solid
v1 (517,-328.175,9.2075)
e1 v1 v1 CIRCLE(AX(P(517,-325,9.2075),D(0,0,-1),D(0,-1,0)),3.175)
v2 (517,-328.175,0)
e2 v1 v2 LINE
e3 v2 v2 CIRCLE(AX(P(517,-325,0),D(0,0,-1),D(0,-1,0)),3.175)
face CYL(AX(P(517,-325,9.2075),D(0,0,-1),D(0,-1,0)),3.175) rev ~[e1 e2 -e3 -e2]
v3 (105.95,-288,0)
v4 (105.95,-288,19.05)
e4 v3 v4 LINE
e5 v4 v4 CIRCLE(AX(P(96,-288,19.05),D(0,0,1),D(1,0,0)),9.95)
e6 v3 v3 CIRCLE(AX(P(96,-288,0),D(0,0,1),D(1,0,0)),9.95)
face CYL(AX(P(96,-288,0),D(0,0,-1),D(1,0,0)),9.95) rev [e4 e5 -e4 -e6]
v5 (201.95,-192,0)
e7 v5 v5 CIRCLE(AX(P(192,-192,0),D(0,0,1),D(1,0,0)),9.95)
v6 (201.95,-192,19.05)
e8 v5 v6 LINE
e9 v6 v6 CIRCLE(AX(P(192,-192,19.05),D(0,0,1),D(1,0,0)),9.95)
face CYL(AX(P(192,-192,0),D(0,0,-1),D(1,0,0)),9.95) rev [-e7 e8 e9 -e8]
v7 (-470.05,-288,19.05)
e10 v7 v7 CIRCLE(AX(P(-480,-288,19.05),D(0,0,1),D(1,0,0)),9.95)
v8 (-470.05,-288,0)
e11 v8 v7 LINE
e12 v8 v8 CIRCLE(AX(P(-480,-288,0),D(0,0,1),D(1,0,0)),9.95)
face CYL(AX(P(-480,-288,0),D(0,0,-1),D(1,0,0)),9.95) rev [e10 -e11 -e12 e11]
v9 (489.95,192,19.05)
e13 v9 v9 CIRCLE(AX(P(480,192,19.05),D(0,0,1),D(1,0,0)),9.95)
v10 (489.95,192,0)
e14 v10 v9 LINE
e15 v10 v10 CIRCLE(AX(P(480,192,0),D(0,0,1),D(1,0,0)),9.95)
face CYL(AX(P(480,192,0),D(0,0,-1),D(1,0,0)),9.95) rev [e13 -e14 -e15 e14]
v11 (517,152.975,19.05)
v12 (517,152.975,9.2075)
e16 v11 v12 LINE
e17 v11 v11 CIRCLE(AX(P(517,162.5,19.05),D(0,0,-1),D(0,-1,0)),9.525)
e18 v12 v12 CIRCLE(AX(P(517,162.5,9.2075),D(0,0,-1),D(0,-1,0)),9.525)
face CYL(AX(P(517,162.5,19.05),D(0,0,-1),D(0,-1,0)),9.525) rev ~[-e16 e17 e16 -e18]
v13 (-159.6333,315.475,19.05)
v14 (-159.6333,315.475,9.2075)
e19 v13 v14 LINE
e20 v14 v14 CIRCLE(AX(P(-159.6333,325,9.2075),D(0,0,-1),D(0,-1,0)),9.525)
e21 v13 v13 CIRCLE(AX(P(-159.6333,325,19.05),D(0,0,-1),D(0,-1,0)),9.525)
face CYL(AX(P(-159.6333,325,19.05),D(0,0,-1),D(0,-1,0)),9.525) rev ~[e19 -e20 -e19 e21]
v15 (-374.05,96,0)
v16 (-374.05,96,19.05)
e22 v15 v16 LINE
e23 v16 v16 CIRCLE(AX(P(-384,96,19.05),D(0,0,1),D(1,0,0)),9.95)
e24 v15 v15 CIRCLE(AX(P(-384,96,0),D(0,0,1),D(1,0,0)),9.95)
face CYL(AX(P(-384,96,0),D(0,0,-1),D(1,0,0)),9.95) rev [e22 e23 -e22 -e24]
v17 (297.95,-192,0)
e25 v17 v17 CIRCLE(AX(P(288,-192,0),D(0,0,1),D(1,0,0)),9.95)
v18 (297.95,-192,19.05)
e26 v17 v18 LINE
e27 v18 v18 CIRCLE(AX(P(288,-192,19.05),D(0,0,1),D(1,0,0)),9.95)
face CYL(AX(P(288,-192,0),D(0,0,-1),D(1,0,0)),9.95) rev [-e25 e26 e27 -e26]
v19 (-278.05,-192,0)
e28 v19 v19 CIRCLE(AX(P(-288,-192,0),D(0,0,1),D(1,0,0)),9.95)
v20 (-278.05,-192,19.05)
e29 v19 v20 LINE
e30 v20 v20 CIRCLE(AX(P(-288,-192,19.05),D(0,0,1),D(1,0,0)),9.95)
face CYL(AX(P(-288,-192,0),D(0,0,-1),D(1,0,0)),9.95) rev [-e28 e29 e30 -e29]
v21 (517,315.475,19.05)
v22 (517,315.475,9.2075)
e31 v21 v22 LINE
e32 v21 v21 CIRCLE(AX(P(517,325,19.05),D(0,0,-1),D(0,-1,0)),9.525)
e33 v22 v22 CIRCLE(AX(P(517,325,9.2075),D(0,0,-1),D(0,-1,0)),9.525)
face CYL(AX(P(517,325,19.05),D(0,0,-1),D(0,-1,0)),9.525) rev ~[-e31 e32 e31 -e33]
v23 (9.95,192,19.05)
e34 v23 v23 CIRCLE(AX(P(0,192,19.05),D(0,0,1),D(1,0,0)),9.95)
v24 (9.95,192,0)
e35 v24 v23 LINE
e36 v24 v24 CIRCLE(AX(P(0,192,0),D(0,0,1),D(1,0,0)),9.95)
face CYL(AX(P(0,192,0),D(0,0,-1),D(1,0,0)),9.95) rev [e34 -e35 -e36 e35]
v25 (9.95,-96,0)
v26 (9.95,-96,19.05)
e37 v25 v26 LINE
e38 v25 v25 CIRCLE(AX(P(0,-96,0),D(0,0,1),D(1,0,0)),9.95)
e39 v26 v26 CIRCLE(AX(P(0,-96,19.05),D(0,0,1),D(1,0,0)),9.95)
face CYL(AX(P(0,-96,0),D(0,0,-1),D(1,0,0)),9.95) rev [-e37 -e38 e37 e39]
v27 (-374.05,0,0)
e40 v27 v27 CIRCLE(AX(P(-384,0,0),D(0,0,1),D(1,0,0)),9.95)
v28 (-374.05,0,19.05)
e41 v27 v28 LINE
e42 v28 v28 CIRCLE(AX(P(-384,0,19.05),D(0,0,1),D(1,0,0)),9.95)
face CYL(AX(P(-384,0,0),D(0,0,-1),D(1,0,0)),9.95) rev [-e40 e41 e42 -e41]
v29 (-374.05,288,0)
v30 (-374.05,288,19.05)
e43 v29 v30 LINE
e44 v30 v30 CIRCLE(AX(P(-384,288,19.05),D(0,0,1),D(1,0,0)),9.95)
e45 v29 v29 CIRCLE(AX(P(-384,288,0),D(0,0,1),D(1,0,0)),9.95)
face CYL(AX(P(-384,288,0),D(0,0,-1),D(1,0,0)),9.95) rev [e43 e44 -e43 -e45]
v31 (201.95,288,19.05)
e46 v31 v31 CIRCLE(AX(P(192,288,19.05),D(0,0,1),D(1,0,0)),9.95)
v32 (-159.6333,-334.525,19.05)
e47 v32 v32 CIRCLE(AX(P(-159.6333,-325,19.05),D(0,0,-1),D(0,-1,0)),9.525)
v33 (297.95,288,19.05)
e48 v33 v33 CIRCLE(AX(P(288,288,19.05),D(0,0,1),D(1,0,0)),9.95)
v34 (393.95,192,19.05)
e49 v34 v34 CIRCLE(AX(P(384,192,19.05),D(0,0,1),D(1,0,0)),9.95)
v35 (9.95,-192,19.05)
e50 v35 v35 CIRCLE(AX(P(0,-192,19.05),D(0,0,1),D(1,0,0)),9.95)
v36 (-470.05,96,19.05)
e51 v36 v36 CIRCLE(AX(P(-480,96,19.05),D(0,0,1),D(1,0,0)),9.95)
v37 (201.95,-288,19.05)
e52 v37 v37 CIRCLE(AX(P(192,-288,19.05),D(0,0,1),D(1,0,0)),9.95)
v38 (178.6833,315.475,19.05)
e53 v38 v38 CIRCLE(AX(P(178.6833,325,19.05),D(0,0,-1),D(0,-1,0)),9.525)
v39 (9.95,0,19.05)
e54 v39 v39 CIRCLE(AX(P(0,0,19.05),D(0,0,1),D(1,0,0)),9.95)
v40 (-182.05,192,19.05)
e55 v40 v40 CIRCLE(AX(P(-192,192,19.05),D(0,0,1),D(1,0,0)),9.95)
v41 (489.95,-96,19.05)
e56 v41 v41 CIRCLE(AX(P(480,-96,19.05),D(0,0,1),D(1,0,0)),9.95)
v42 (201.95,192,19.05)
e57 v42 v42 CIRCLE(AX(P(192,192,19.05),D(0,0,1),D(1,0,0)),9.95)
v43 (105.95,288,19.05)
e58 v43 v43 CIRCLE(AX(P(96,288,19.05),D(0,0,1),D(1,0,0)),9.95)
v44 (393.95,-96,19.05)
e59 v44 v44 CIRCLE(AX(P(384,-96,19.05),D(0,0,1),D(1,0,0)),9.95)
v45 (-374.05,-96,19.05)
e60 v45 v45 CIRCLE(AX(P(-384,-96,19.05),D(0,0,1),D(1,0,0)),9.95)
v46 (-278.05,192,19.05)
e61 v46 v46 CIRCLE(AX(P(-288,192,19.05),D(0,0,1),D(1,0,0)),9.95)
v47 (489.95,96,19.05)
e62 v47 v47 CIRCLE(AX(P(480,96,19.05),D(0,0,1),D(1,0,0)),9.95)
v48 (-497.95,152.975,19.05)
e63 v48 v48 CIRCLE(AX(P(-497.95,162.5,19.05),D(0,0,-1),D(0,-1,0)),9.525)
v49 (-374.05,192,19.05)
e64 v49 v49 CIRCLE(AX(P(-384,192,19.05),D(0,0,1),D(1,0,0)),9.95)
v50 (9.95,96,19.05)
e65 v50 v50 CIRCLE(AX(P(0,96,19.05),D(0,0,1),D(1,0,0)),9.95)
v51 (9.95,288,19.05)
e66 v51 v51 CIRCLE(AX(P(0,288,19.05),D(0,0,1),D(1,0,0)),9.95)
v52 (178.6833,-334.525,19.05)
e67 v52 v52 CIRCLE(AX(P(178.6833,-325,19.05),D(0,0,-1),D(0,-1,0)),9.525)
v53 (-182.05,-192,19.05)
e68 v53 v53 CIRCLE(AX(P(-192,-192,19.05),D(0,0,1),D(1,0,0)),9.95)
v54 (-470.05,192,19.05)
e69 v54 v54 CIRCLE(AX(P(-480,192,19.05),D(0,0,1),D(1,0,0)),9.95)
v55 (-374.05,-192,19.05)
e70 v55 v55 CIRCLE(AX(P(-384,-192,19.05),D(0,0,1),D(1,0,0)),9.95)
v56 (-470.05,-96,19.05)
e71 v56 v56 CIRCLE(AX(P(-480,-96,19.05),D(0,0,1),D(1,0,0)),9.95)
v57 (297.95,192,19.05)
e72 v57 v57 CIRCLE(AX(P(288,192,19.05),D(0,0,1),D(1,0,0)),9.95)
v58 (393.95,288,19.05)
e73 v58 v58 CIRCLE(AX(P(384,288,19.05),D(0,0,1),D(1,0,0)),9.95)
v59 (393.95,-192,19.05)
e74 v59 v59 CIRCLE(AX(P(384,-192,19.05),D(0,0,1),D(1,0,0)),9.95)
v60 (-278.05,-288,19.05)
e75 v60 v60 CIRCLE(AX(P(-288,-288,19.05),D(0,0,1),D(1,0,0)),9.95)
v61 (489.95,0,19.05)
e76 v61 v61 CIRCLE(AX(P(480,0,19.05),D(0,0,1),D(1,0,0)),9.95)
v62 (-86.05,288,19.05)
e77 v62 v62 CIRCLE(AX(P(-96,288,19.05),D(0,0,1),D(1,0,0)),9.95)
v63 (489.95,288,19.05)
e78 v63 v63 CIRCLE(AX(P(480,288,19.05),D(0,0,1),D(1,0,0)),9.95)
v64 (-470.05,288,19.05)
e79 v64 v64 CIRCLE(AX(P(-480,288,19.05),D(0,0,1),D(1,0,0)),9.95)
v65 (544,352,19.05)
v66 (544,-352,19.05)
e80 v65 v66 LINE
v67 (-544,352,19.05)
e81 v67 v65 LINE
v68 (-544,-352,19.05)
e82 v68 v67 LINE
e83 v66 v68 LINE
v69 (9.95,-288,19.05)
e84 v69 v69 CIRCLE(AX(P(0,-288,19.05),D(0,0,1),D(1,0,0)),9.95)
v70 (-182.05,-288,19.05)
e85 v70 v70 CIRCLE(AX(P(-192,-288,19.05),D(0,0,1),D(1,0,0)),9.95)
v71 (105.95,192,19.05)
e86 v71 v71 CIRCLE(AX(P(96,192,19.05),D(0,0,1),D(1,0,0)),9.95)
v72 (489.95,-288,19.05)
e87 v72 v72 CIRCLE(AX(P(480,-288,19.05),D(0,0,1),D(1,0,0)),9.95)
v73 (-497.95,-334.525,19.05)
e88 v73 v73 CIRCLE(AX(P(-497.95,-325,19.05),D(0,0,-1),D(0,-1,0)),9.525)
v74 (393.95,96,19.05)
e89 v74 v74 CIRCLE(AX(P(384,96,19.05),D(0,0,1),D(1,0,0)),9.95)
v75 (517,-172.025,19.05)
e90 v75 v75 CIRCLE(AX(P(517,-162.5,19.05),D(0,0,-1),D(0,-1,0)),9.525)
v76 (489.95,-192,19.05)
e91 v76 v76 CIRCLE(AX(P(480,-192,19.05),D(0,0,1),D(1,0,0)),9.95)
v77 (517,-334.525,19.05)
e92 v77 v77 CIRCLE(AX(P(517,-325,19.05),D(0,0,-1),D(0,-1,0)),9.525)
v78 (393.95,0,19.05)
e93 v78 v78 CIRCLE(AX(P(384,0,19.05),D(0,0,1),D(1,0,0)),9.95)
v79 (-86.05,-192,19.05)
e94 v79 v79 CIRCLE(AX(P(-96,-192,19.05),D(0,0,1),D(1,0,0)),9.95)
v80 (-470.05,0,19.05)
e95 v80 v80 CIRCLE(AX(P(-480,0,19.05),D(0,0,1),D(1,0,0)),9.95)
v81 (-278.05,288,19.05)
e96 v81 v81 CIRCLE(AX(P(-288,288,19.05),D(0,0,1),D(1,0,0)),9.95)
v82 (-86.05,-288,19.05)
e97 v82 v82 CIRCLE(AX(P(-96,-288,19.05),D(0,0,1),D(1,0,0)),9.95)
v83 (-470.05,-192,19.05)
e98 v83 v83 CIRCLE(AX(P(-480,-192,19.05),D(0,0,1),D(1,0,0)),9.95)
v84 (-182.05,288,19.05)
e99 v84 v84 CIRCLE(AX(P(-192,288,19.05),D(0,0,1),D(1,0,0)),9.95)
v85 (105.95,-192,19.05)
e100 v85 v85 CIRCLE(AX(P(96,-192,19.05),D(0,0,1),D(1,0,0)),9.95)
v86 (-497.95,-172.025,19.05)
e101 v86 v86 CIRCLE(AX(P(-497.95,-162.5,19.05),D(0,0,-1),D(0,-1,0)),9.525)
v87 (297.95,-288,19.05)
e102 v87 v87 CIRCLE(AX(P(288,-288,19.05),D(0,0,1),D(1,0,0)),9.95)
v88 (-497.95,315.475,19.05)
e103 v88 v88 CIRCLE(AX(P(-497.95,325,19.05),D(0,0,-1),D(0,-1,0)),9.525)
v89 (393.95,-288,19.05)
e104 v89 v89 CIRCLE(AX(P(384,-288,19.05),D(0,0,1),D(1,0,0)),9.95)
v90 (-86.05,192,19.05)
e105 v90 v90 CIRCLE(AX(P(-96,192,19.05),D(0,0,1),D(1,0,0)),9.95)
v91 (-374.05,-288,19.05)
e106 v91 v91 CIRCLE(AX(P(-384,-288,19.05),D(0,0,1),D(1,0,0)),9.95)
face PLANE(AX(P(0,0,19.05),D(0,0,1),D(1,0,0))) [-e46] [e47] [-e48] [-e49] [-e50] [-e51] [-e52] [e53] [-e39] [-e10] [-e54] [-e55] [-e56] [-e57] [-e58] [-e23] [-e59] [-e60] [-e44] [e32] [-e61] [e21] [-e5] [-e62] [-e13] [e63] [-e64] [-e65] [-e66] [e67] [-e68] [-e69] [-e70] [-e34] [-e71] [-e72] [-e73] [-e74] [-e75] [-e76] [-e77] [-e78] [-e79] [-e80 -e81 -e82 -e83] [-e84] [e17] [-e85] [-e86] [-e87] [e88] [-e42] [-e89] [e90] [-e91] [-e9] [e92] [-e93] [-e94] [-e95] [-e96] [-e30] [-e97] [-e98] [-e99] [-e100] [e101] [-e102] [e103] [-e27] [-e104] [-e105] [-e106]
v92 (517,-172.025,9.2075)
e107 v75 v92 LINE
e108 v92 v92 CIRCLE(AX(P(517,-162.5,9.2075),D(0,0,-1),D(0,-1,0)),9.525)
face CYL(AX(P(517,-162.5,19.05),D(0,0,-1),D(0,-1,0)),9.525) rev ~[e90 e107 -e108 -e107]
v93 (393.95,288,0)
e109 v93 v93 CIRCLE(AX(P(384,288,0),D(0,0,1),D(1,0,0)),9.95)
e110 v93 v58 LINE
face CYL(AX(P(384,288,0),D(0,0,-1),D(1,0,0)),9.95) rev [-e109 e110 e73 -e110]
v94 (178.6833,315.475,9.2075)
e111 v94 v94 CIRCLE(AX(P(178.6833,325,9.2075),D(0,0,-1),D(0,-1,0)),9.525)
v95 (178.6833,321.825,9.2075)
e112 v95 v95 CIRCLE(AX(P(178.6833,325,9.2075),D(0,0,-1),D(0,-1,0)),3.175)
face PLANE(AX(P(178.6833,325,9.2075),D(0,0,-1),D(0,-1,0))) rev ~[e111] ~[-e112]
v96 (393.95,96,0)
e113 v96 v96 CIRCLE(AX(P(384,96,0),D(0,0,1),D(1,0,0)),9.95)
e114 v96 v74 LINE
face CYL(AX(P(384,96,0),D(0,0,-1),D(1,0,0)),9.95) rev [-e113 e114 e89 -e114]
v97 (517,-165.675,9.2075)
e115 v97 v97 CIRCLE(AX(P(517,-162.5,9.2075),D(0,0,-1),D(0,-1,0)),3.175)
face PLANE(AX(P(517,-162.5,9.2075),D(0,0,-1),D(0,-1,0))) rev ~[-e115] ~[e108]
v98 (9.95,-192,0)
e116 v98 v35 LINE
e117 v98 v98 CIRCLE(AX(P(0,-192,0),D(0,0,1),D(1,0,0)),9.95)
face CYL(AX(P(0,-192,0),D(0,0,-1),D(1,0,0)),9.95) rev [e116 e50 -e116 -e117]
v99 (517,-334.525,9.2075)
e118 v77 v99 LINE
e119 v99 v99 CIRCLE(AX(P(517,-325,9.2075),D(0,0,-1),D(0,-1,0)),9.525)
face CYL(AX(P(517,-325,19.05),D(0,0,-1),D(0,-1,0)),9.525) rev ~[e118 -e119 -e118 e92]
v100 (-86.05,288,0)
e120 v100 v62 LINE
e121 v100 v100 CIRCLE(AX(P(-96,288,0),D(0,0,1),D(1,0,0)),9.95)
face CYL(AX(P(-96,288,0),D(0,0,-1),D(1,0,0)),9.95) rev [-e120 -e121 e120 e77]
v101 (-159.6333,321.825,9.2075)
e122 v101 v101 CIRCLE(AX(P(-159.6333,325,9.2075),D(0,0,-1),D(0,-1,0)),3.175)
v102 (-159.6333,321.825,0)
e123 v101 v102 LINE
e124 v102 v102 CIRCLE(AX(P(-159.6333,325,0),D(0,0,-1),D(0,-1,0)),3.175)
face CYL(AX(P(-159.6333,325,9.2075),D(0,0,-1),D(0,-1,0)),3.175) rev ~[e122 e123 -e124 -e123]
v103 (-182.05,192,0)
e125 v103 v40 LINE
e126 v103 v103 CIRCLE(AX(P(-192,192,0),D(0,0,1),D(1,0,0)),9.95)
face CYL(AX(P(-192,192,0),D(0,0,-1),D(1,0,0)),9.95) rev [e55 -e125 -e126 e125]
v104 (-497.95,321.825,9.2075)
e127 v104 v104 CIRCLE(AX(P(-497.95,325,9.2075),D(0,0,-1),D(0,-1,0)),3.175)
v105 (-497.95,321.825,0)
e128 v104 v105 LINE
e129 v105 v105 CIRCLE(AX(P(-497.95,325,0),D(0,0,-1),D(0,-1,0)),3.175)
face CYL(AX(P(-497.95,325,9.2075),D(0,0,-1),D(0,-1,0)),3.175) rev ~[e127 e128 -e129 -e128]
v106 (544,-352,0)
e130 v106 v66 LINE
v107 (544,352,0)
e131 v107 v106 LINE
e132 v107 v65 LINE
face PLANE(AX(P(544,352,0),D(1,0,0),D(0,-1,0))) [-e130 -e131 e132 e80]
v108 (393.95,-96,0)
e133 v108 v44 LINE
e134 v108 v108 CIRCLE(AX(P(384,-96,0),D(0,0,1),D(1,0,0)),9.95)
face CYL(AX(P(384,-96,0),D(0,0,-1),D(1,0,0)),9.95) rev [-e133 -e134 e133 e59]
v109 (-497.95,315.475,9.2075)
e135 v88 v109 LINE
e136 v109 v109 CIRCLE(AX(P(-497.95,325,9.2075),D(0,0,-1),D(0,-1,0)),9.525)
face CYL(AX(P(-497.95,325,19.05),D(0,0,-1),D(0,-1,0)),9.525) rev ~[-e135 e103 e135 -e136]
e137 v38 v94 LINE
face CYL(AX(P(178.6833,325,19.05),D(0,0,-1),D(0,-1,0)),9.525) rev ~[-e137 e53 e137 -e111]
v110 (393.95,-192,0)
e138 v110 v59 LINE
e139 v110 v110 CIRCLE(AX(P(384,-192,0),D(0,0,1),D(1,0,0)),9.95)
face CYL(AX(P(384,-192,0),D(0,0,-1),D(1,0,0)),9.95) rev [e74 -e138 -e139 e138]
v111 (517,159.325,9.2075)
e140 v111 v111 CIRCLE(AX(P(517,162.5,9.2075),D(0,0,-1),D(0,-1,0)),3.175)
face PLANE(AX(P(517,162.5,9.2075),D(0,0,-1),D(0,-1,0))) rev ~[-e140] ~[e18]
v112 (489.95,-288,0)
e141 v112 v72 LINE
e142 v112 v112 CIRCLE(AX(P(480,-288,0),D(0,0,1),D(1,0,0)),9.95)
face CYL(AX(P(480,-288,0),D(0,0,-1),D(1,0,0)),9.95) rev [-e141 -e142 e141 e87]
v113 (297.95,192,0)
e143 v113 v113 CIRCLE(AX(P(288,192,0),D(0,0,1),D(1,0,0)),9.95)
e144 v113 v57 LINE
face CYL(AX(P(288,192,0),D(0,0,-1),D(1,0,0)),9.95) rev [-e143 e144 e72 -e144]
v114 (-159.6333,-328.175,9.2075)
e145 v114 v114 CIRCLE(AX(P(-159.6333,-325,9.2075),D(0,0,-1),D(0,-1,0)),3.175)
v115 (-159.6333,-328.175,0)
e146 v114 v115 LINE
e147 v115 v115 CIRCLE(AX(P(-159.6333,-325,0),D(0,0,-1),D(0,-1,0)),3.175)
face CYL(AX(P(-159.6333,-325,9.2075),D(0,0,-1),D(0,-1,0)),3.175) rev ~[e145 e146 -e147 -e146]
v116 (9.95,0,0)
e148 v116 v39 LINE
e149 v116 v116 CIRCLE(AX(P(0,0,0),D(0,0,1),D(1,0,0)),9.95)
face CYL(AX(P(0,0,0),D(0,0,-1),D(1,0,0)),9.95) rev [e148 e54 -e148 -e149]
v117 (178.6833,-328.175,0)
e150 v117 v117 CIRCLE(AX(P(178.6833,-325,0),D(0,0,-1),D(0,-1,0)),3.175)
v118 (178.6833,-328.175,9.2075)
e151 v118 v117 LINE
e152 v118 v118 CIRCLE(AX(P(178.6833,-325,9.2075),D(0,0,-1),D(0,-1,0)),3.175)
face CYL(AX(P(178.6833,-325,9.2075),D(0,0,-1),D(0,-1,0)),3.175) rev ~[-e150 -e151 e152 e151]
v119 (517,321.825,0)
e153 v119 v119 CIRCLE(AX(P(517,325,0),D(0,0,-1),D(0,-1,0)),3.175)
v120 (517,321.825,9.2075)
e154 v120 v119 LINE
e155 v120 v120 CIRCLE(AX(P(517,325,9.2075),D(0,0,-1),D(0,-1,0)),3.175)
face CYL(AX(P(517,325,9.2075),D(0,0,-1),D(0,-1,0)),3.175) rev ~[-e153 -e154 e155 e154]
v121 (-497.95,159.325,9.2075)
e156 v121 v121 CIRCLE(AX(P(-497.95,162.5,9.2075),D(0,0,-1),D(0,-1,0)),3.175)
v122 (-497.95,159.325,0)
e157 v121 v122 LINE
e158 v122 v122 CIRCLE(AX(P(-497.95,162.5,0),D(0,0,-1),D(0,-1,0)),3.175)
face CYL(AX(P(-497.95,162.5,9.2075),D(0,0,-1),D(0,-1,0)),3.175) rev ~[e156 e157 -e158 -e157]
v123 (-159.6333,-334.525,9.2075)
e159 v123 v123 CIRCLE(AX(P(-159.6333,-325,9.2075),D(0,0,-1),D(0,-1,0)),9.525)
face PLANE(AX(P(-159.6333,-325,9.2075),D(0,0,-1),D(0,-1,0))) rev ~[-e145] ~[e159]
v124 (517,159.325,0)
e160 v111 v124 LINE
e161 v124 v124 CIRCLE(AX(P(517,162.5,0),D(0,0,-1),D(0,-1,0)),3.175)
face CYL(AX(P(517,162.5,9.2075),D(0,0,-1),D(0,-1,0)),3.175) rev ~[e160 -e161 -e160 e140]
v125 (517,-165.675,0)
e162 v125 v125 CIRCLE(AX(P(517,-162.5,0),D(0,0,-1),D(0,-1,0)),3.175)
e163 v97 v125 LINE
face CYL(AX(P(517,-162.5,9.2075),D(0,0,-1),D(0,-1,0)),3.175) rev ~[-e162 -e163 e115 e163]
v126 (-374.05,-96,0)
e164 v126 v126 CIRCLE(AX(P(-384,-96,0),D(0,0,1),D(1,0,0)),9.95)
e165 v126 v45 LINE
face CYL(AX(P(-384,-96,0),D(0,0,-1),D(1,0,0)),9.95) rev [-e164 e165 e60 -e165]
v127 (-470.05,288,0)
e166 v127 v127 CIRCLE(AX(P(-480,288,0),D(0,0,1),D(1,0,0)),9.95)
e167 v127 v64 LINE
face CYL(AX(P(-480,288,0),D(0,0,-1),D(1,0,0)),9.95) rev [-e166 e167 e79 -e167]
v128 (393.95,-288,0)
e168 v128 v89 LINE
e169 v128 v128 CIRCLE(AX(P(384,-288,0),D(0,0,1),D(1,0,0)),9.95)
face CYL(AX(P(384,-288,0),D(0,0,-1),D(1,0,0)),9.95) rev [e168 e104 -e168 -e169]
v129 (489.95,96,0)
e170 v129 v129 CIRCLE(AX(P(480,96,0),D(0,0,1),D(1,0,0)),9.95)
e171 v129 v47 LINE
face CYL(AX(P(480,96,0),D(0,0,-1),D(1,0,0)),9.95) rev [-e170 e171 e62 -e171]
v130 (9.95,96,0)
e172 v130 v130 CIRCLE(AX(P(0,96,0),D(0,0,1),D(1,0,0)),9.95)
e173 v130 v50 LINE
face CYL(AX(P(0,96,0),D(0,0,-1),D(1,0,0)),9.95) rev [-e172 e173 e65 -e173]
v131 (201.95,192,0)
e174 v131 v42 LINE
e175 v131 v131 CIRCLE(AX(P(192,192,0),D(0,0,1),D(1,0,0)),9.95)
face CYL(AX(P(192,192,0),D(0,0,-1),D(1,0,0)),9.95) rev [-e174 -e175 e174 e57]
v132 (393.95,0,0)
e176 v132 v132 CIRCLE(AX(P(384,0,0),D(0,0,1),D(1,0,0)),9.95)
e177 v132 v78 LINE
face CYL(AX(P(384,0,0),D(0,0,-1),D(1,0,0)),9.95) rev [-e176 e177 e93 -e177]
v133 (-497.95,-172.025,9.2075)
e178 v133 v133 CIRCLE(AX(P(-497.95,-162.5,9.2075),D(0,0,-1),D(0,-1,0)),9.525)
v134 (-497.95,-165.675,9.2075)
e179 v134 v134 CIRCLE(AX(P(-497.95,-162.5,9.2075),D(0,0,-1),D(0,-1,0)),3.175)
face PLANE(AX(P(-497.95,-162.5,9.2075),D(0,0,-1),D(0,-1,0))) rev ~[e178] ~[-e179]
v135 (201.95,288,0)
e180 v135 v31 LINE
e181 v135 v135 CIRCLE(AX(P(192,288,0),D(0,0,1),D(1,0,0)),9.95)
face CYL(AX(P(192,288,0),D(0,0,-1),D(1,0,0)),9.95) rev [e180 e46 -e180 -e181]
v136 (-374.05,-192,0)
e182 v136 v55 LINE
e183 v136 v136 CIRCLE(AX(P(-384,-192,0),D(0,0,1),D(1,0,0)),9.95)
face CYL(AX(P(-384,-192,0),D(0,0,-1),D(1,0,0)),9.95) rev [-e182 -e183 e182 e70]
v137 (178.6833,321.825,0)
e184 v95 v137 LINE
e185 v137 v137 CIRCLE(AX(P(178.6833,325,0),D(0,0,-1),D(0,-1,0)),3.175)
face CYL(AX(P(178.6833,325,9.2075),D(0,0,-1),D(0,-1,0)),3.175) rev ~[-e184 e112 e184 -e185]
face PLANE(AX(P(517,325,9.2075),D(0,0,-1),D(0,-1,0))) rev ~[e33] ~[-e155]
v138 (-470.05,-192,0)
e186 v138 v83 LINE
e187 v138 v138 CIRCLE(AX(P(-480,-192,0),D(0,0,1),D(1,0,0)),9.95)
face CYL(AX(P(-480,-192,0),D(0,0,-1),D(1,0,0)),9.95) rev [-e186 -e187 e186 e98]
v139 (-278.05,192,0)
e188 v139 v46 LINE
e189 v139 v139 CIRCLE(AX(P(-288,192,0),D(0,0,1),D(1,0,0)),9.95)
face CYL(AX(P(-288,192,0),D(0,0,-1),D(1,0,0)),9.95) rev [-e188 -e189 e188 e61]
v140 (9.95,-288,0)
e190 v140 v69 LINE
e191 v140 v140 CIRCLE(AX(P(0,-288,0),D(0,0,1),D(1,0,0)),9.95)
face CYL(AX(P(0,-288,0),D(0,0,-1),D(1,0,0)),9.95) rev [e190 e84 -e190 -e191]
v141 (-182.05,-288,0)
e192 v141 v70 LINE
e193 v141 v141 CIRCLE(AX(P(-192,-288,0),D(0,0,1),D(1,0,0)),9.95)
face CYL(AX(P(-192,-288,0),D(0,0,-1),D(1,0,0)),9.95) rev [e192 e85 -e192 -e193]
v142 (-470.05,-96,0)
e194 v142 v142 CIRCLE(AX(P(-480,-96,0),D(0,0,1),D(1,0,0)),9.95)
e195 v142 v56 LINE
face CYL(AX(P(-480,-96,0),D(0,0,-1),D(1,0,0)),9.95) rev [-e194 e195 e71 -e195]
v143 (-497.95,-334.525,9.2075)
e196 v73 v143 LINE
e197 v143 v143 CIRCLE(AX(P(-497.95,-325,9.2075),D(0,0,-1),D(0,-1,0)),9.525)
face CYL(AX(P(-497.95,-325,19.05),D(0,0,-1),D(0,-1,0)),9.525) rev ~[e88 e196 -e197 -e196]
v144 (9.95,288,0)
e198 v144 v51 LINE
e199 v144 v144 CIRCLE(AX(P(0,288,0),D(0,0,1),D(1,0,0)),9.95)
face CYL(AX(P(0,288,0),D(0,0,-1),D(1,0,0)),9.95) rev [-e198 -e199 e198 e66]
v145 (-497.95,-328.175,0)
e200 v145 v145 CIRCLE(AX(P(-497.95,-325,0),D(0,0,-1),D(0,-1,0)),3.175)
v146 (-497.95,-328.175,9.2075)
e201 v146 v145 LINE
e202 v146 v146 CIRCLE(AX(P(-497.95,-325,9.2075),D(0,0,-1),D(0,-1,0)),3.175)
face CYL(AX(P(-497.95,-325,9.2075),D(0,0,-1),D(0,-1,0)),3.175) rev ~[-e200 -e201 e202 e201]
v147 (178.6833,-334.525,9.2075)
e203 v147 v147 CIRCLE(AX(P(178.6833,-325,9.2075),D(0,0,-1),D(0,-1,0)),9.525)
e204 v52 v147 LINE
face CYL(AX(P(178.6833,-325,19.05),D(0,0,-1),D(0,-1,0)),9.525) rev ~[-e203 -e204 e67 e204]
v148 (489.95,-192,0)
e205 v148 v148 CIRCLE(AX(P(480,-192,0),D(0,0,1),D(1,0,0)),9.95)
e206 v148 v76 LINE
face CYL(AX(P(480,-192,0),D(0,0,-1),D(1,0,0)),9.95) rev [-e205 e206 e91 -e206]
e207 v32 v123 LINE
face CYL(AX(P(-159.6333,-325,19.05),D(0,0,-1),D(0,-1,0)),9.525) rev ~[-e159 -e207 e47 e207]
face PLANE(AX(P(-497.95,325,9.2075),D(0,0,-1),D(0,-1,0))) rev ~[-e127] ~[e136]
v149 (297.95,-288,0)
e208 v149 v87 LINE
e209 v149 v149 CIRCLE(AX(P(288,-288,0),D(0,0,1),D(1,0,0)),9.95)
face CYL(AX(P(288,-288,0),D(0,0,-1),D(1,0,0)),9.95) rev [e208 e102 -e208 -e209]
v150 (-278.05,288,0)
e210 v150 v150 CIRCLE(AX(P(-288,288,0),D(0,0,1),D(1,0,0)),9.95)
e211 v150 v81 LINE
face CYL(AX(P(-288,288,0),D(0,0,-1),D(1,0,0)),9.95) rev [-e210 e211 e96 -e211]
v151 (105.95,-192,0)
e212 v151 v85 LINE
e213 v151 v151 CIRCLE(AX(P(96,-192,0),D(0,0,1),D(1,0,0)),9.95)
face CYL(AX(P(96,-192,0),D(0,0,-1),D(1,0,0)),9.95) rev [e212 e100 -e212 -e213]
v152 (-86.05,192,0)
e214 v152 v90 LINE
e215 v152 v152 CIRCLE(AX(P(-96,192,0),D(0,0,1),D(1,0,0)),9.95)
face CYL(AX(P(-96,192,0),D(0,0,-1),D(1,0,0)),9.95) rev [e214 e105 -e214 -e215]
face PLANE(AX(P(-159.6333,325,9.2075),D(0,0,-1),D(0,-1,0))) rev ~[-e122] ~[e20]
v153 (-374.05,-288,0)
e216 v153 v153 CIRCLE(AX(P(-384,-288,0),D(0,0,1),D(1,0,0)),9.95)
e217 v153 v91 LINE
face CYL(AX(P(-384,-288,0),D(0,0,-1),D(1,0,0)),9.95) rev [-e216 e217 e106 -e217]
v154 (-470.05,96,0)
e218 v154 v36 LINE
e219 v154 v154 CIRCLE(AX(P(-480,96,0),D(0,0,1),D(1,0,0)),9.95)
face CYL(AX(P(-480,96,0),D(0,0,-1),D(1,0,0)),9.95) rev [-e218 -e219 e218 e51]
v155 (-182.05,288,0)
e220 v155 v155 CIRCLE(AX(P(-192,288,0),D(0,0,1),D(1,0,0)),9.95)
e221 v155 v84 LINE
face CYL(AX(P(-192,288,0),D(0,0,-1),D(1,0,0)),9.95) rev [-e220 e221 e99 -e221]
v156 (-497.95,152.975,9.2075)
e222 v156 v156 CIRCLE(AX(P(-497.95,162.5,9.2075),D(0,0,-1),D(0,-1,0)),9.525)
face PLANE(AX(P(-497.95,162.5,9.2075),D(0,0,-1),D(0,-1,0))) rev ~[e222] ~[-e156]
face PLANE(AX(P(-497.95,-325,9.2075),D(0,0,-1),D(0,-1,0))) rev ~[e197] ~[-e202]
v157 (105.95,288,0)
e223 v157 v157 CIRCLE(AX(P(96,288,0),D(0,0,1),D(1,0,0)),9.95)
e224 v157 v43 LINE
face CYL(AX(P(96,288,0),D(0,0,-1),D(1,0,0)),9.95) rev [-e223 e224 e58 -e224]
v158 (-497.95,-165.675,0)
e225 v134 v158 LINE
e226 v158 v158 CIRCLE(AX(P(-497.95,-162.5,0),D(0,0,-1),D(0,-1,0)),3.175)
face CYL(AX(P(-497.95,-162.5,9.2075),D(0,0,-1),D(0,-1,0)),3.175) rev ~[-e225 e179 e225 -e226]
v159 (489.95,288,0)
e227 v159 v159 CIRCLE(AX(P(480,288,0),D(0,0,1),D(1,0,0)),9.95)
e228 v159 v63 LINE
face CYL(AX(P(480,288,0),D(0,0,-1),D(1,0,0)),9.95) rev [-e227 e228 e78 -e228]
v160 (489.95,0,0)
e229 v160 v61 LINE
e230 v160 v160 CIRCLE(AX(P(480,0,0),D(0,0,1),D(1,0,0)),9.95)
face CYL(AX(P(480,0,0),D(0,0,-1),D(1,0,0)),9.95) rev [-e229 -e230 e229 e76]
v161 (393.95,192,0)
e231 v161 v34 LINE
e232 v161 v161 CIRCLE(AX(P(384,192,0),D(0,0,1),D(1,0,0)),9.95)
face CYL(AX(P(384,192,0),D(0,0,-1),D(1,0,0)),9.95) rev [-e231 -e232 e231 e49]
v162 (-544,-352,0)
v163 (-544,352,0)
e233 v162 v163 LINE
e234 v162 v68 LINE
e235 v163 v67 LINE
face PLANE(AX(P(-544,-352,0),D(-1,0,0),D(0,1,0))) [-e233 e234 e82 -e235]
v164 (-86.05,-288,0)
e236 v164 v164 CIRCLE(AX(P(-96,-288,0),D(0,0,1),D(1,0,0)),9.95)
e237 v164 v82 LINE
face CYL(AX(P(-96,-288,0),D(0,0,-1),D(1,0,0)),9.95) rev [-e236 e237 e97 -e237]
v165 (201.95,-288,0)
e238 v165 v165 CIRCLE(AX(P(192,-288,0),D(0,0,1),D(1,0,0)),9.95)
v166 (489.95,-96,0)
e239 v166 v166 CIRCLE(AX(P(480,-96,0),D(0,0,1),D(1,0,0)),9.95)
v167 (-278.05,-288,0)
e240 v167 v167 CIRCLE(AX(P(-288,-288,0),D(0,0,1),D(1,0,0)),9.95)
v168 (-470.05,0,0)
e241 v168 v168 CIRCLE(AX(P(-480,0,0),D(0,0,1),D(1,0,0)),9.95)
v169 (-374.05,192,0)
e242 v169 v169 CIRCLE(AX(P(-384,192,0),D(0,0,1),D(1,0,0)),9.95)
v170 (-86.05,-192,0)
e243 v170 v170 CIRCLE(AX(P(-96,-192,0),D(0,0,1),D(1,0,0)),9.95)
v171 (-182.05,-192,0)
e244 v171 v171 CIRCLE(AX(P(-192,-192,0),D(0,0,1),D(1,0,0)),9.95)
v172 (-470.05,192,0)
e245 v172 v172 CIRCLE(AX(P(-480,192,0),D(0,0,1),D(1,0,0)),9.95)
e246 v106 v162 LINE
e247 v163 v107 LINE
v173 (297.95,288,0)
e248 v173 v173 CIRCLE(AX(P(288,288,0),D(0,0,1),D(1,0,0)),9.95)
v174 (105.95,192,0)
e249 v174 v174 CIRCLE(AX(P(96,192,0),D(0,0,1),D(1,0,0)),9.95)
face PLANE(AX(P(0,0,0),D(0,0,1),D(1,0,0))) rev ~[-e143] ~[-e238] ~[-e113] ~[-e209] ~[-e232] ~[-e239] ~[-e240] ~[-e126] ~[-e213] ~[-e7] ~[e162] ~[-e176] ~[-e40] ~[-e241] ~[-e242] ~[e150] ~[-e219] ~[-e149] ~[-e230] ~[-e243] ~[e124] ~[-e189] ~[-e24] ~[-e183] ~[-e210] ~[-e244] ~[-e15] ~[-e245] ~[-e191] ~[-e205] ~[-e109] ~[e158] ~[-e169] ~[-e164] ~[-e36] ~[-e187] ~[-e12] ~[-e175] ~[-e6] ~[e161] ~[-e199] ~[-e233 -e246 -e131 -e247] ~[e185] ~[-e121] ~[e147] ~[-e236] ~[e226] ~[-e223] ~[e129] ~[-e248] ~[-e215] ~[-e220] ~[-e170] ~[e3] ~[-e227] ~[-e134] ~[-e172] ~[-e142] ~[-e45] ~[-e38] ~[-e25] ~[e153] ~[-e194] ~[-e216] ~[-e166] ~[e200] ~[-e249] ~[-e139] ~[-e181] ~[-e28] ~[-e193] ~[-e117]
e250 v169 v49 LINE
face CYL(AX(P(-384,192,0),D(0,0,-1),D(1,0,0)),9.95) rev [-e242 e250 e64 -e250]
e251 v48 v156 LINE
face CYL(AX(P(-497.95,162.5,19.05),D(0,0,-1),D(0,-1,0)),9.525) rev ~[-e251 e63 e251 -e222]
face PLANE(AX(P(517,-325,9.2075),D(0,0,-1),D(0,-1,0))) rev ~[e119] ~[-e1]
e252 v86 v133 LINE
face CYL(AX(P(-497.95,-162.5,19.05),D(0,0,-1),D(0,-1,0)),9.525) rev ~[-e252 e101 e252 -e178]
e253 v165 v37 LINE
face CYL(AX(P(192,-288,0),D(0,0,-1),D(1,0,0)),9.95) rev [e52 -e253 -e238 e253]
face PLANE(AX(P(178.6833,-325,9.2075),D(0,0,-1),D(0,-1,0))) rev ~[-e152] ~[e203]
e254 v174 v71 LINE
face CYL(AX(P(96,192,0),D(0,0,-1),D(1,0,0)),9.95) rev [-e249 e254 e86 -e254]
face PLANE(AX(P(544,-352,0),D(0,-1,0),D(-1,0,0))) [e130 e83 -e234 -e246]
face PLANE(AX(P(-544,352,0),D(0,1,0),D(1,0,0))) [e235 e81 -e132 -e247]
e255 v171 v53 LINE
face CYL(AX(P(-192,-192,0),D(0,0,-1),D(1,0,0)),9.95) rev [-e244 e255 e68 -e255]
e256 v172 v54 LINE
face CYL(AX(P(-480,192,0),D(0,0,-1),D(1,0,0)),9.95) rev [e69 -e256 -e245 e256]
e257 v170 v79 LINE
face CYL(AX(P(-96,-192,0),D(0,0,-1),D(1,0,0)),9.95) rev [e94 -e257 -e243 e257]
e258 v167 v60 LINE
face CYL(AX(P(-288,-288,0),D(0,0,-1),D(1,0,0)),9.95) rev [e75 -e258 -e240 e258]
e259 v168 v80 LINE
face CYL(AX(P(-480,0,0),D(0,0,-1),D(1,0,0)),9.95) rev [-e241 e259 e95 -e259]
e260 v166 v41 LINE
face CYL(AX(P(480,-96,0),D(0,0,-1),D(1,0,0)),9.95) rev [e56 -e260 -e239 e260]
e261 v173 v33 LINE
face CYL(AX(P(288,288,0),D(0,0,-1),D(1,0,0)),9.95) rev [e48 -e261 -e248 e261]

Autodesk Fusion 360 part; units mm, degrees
sketch "Sketch1" plane through (0, 0, 0) normal (0, 0, 1) x (1, 0, 0)
  line L0 (544, -352) -> (-544, -352)
  line L1 (-544, -352) -> (-544, 352)
  line L2 (-544, 352) -> (544, 352)
  line L3 (544, 352) -> (544, -352)
  line L4 (544, -352) -> (-544, 352) construction
  line L5 (-544, -352) -> (544, 352) construction
  circle A0 centre (0, 0) radius 9.95
  circle A1 centre (-480, -288) radius 9.95
  circle A2 centre (-384, -288) radius 9.95
  circle A3 centre (-288, -288) radius 9.95
  circle A4 centre (-192, -288) radius 9.95
  circle A5 centre (-96, -288) radius 9.95
  circle A6 centre (0, -288) radius 9.95
  circle A7 centre (96, -288) radius 9.95
  circle A8 centre (192, -288) radius 9.95
  circle A9 centre (288, -288) radius 9.95
  circle A10 centre (384, -288) radius 9.95
  circle A11 centre (480, -288) radius 9.95
  circle A12 centre (-480, -192) radius 9.95
  circle A13 centre (-384, -192) radius 9.95
  circle A14 centre (-288, -192) radius 9.95
  circle A15 centre (-192, -192) radius 9.95
  circle A16 centre (-96, -192) radius 9.95
  circle A17 centre (0, -192) radius 9.95
  circle A18 centre (96, -192) radius 9.95
  circle A19 centre (192, -192) radius 9.95
  circle A20 centre (288, -192) radius 9.95
  circle A21 centre (384, -192) radius 9.95
  circle A22 centre (480, -192) radius 9.95
  circle A23 centre (-480, -96) radius 9.95
  circle A24 centre (-384, -96) radius 9.95
  circle A25 centre (0, -96) radius 9.95
  circle A26 centre (384, -96) radius 9.95
  circle A27 centre (480, -96) radius 9.95
  circle A28 centre (-480, 0) radius 9.95
  circle A29 centre (-384, 0) radius 9.95
  circle A30 centre (384, 0) radius 9.95
  circle A31 centre (480, 0) radius 9.95
  circle A32 centre (-480, 96) radius 9.95
  circle A33 centre (-384, 96) radius 9.95
  circle A34 centre (0, 96) radius 9.95
  circle A35 centre (384, 96) radius 9.95
  circle A36 centre (480, 96) radius 9.95
  circle A37 centre (-480, 192) radius 9.95
  circle A38 centre (-384, 192) radius 9.95
  circle A39 centre (-288, 192) radius 9.95
  circle A40 centre (-192, 192) radius 9.95
  circle A41 centre (-96, 192) radius 9.95
  circle A42 centre (0, 192) radius 9.95
  circle A43 centre (96, 192) radius 9.95
  circle A44 centre (192, 192) radius 9.95
  circle A45 centre (288, 192) radius 9.95
  circle A46 centre (384, 192) radius 9.95
  circle A47 centre (480, 192) radius 9.95
  circle A48 centre (-480, 288) radius 9.95
  circle A49 centre (-384, 288) radius 9.95
  circle A50 centre (-288, 288) radius 9.95
  circle A51 centre (-192, 288) radius 9.95
  circle A52 centre (-96, 288) radius 9.95
  circle A53 centre (0, 288) radius 9.95
  circle A54 centre (96, 288) radius 9.95
  circle A55 centre (192, 288) radius 9.95
  circle A56 centre (288, 288) radius 9.95
  circle A57 centre (384, 288) radius 9.95
  circle A58 centre (480, 288) radius 9.95
  dimension "d1" = 1088
  dimension "d2" = 704
  dimension "d3" = 19.9
  dimension "d6" = 96
  dimension "d7" = 96
extrude "Extrude1" add sketch "Sketch1" along normal blind 19.05
sketch "Sketch2" plane through (0, 0, 19.05) normal (0, 0, 1) x (-1, 0, 0)
  circle A0 centre (192, -192) radius 9.95
  circle A1 centre (-480, 0) radius 9.95
  circle A2 centre (-384, -288) radius 9.95
  circle A3 centre (480, -192) radius 9.95
  circle A4 centre (480, -96) radius 9.95
  circle A5 centre (96, -192) radius 9.95
  circle A6 centre (384, -192) radius 9.95
  circle A7 centre (288, -192) radius 9.95
  circle A8 centre (96, 288) radius 9.95
  circle A9 centre (0, 0) radius 9.95
  circle A10 centre (-96, 288) radius 9.95
  circle A11 centre (384, 288) radius 9.95
  circle A12 centre (288, 288) radius 9.95
  circle A13 centre (0, 288) radius 9.95
  circle A14 centre (192, 288) radius 9.95
  circle A15 centre (480, 288) radius 9.95
  circle A16 centre (-192, 288) radius 9.95
  circle A17 centre (-384, 288) radius 9.95
  circle A18 centre (384, -288) radius 9.95
  circle A19 centre (-96, -288) radius 9.95
  circle A20 centre (480, -288) radius 9.95
  circle A21 centre (96, -288) radius 9.95
  circle A22 centre (192, -288) radius 9.95
  circle A23 centre (-480, -96) radius 9.95
  circle A24 centre (288, -288) radius 9.95
  circle A25 centre (-480, -192) radius 9.95
  circle A26 centre (0, -288) radius 9.95
  circle A27 centre (-384, -192) radius 9.95
  circle A28 centre (-192, -288) radius 9.95
  circle A29 centre (-480, 288) radius 9.95
  circle A30 centre (384, 192) radius 9.95
  circle A31 centre (480, 192) radius 9.95
  circle A32 centre (288, 192) radius 9.95
  circle A33 centre (96, 192) radius 9.95
  circle A34 centre (192, 192) radius 9.95
  circle A35 centre (0, 192) radius 9.95
  circle A36 centre (-192, 192) radius 9.95
  circle A37 centre (-96, 192) radius 9.95
  circle A38 centre (-288, 192) radius 9.95
  circle A39 centre (-480, 192) radius 9.95
  circle A40 centre (480, 96) radius 9.95
  circle A41 centre (0, 96) radius 9.95
  circle A42 centre (384, 96) radius 9.95
  circle A43 centre (-384, 0) radius 9.95
  circle A44 centre (-480, 96) radius 9.95
  circle A45 centre (384, 0) radius 9.95
  circle A46 centre (-384, 96) radius 9.95
  circle A47 centre (480, 0) radius 9.95
  circle A48 centre (384, -96) radius 9.95
  circle A49 centre (0, -96) radius 9.95
  circle A50 centre (-384, -96) radius 9.95
  circle A51 centre (-480, -288) radius 9.95
  circle A52 centre (-288, -192) radius 9.95
  circle A53 centre (-384, 192) radius 9.95
  circle A54 centre (-288, -288) radius 9.95
  circle A55 centre (-192, -192) radius 9.95
  circle A56 centre (-288, 288) radius 9.95
  circle A57 centre (-96, -192) radius 9.95
  circle A58 centre (0, -192) radius 9.95
  line L0 (-544, -352) -> (544, -352)
  line L1 (544, -352) -> (544, 352)
  line L2 (544, 352) -> (-544, 352)
  line L3 (-544, 352) -> (-544, -352)
  point P0 (497.95, -325)
  point P1 (159.6333, -325)
  point P2 (-178.6833, -325)
  point P3 (-517, -325)
  point P4 (497.95, -162.5)
  point P5 (-517, -162.5)
  point P6 (-517, 0)
  point P7 (497.95, 162.5)
  point P8 (-517, 162.5)
  point P9 (497.95, 325)
  point P10 (159.6333, 325)
  point P11 (-178.6833, 325)
  point P12 (-517, 325)
  dimension "d10" = 46.05
  dimension "d11" = 27
  dimension "d14" = -1014.95
  dimension "d15" = 650
hole "Hole1" at (-497.95, 325, 19.05) at (-497.95, 162.5, 19.05) at (-497.95, -162.5, 19.05) at (-497.95, -325, 19.05) at (-159.6333, -325, 19.05) at (178.6833, -325, 19.05) at (517, -325, 19.05) at (517, -162.5, 19.05) at (517, 162.5, 19.05) at (517, 325, 19.05) at (178.6833, 325, 19.05) at (-159.6333, 325, 19.05) direction (0, 0, -1) diameter 6.35 depth 254 tip angle 180 counterbore diameter 19.05 counterbore depth 9.8425
